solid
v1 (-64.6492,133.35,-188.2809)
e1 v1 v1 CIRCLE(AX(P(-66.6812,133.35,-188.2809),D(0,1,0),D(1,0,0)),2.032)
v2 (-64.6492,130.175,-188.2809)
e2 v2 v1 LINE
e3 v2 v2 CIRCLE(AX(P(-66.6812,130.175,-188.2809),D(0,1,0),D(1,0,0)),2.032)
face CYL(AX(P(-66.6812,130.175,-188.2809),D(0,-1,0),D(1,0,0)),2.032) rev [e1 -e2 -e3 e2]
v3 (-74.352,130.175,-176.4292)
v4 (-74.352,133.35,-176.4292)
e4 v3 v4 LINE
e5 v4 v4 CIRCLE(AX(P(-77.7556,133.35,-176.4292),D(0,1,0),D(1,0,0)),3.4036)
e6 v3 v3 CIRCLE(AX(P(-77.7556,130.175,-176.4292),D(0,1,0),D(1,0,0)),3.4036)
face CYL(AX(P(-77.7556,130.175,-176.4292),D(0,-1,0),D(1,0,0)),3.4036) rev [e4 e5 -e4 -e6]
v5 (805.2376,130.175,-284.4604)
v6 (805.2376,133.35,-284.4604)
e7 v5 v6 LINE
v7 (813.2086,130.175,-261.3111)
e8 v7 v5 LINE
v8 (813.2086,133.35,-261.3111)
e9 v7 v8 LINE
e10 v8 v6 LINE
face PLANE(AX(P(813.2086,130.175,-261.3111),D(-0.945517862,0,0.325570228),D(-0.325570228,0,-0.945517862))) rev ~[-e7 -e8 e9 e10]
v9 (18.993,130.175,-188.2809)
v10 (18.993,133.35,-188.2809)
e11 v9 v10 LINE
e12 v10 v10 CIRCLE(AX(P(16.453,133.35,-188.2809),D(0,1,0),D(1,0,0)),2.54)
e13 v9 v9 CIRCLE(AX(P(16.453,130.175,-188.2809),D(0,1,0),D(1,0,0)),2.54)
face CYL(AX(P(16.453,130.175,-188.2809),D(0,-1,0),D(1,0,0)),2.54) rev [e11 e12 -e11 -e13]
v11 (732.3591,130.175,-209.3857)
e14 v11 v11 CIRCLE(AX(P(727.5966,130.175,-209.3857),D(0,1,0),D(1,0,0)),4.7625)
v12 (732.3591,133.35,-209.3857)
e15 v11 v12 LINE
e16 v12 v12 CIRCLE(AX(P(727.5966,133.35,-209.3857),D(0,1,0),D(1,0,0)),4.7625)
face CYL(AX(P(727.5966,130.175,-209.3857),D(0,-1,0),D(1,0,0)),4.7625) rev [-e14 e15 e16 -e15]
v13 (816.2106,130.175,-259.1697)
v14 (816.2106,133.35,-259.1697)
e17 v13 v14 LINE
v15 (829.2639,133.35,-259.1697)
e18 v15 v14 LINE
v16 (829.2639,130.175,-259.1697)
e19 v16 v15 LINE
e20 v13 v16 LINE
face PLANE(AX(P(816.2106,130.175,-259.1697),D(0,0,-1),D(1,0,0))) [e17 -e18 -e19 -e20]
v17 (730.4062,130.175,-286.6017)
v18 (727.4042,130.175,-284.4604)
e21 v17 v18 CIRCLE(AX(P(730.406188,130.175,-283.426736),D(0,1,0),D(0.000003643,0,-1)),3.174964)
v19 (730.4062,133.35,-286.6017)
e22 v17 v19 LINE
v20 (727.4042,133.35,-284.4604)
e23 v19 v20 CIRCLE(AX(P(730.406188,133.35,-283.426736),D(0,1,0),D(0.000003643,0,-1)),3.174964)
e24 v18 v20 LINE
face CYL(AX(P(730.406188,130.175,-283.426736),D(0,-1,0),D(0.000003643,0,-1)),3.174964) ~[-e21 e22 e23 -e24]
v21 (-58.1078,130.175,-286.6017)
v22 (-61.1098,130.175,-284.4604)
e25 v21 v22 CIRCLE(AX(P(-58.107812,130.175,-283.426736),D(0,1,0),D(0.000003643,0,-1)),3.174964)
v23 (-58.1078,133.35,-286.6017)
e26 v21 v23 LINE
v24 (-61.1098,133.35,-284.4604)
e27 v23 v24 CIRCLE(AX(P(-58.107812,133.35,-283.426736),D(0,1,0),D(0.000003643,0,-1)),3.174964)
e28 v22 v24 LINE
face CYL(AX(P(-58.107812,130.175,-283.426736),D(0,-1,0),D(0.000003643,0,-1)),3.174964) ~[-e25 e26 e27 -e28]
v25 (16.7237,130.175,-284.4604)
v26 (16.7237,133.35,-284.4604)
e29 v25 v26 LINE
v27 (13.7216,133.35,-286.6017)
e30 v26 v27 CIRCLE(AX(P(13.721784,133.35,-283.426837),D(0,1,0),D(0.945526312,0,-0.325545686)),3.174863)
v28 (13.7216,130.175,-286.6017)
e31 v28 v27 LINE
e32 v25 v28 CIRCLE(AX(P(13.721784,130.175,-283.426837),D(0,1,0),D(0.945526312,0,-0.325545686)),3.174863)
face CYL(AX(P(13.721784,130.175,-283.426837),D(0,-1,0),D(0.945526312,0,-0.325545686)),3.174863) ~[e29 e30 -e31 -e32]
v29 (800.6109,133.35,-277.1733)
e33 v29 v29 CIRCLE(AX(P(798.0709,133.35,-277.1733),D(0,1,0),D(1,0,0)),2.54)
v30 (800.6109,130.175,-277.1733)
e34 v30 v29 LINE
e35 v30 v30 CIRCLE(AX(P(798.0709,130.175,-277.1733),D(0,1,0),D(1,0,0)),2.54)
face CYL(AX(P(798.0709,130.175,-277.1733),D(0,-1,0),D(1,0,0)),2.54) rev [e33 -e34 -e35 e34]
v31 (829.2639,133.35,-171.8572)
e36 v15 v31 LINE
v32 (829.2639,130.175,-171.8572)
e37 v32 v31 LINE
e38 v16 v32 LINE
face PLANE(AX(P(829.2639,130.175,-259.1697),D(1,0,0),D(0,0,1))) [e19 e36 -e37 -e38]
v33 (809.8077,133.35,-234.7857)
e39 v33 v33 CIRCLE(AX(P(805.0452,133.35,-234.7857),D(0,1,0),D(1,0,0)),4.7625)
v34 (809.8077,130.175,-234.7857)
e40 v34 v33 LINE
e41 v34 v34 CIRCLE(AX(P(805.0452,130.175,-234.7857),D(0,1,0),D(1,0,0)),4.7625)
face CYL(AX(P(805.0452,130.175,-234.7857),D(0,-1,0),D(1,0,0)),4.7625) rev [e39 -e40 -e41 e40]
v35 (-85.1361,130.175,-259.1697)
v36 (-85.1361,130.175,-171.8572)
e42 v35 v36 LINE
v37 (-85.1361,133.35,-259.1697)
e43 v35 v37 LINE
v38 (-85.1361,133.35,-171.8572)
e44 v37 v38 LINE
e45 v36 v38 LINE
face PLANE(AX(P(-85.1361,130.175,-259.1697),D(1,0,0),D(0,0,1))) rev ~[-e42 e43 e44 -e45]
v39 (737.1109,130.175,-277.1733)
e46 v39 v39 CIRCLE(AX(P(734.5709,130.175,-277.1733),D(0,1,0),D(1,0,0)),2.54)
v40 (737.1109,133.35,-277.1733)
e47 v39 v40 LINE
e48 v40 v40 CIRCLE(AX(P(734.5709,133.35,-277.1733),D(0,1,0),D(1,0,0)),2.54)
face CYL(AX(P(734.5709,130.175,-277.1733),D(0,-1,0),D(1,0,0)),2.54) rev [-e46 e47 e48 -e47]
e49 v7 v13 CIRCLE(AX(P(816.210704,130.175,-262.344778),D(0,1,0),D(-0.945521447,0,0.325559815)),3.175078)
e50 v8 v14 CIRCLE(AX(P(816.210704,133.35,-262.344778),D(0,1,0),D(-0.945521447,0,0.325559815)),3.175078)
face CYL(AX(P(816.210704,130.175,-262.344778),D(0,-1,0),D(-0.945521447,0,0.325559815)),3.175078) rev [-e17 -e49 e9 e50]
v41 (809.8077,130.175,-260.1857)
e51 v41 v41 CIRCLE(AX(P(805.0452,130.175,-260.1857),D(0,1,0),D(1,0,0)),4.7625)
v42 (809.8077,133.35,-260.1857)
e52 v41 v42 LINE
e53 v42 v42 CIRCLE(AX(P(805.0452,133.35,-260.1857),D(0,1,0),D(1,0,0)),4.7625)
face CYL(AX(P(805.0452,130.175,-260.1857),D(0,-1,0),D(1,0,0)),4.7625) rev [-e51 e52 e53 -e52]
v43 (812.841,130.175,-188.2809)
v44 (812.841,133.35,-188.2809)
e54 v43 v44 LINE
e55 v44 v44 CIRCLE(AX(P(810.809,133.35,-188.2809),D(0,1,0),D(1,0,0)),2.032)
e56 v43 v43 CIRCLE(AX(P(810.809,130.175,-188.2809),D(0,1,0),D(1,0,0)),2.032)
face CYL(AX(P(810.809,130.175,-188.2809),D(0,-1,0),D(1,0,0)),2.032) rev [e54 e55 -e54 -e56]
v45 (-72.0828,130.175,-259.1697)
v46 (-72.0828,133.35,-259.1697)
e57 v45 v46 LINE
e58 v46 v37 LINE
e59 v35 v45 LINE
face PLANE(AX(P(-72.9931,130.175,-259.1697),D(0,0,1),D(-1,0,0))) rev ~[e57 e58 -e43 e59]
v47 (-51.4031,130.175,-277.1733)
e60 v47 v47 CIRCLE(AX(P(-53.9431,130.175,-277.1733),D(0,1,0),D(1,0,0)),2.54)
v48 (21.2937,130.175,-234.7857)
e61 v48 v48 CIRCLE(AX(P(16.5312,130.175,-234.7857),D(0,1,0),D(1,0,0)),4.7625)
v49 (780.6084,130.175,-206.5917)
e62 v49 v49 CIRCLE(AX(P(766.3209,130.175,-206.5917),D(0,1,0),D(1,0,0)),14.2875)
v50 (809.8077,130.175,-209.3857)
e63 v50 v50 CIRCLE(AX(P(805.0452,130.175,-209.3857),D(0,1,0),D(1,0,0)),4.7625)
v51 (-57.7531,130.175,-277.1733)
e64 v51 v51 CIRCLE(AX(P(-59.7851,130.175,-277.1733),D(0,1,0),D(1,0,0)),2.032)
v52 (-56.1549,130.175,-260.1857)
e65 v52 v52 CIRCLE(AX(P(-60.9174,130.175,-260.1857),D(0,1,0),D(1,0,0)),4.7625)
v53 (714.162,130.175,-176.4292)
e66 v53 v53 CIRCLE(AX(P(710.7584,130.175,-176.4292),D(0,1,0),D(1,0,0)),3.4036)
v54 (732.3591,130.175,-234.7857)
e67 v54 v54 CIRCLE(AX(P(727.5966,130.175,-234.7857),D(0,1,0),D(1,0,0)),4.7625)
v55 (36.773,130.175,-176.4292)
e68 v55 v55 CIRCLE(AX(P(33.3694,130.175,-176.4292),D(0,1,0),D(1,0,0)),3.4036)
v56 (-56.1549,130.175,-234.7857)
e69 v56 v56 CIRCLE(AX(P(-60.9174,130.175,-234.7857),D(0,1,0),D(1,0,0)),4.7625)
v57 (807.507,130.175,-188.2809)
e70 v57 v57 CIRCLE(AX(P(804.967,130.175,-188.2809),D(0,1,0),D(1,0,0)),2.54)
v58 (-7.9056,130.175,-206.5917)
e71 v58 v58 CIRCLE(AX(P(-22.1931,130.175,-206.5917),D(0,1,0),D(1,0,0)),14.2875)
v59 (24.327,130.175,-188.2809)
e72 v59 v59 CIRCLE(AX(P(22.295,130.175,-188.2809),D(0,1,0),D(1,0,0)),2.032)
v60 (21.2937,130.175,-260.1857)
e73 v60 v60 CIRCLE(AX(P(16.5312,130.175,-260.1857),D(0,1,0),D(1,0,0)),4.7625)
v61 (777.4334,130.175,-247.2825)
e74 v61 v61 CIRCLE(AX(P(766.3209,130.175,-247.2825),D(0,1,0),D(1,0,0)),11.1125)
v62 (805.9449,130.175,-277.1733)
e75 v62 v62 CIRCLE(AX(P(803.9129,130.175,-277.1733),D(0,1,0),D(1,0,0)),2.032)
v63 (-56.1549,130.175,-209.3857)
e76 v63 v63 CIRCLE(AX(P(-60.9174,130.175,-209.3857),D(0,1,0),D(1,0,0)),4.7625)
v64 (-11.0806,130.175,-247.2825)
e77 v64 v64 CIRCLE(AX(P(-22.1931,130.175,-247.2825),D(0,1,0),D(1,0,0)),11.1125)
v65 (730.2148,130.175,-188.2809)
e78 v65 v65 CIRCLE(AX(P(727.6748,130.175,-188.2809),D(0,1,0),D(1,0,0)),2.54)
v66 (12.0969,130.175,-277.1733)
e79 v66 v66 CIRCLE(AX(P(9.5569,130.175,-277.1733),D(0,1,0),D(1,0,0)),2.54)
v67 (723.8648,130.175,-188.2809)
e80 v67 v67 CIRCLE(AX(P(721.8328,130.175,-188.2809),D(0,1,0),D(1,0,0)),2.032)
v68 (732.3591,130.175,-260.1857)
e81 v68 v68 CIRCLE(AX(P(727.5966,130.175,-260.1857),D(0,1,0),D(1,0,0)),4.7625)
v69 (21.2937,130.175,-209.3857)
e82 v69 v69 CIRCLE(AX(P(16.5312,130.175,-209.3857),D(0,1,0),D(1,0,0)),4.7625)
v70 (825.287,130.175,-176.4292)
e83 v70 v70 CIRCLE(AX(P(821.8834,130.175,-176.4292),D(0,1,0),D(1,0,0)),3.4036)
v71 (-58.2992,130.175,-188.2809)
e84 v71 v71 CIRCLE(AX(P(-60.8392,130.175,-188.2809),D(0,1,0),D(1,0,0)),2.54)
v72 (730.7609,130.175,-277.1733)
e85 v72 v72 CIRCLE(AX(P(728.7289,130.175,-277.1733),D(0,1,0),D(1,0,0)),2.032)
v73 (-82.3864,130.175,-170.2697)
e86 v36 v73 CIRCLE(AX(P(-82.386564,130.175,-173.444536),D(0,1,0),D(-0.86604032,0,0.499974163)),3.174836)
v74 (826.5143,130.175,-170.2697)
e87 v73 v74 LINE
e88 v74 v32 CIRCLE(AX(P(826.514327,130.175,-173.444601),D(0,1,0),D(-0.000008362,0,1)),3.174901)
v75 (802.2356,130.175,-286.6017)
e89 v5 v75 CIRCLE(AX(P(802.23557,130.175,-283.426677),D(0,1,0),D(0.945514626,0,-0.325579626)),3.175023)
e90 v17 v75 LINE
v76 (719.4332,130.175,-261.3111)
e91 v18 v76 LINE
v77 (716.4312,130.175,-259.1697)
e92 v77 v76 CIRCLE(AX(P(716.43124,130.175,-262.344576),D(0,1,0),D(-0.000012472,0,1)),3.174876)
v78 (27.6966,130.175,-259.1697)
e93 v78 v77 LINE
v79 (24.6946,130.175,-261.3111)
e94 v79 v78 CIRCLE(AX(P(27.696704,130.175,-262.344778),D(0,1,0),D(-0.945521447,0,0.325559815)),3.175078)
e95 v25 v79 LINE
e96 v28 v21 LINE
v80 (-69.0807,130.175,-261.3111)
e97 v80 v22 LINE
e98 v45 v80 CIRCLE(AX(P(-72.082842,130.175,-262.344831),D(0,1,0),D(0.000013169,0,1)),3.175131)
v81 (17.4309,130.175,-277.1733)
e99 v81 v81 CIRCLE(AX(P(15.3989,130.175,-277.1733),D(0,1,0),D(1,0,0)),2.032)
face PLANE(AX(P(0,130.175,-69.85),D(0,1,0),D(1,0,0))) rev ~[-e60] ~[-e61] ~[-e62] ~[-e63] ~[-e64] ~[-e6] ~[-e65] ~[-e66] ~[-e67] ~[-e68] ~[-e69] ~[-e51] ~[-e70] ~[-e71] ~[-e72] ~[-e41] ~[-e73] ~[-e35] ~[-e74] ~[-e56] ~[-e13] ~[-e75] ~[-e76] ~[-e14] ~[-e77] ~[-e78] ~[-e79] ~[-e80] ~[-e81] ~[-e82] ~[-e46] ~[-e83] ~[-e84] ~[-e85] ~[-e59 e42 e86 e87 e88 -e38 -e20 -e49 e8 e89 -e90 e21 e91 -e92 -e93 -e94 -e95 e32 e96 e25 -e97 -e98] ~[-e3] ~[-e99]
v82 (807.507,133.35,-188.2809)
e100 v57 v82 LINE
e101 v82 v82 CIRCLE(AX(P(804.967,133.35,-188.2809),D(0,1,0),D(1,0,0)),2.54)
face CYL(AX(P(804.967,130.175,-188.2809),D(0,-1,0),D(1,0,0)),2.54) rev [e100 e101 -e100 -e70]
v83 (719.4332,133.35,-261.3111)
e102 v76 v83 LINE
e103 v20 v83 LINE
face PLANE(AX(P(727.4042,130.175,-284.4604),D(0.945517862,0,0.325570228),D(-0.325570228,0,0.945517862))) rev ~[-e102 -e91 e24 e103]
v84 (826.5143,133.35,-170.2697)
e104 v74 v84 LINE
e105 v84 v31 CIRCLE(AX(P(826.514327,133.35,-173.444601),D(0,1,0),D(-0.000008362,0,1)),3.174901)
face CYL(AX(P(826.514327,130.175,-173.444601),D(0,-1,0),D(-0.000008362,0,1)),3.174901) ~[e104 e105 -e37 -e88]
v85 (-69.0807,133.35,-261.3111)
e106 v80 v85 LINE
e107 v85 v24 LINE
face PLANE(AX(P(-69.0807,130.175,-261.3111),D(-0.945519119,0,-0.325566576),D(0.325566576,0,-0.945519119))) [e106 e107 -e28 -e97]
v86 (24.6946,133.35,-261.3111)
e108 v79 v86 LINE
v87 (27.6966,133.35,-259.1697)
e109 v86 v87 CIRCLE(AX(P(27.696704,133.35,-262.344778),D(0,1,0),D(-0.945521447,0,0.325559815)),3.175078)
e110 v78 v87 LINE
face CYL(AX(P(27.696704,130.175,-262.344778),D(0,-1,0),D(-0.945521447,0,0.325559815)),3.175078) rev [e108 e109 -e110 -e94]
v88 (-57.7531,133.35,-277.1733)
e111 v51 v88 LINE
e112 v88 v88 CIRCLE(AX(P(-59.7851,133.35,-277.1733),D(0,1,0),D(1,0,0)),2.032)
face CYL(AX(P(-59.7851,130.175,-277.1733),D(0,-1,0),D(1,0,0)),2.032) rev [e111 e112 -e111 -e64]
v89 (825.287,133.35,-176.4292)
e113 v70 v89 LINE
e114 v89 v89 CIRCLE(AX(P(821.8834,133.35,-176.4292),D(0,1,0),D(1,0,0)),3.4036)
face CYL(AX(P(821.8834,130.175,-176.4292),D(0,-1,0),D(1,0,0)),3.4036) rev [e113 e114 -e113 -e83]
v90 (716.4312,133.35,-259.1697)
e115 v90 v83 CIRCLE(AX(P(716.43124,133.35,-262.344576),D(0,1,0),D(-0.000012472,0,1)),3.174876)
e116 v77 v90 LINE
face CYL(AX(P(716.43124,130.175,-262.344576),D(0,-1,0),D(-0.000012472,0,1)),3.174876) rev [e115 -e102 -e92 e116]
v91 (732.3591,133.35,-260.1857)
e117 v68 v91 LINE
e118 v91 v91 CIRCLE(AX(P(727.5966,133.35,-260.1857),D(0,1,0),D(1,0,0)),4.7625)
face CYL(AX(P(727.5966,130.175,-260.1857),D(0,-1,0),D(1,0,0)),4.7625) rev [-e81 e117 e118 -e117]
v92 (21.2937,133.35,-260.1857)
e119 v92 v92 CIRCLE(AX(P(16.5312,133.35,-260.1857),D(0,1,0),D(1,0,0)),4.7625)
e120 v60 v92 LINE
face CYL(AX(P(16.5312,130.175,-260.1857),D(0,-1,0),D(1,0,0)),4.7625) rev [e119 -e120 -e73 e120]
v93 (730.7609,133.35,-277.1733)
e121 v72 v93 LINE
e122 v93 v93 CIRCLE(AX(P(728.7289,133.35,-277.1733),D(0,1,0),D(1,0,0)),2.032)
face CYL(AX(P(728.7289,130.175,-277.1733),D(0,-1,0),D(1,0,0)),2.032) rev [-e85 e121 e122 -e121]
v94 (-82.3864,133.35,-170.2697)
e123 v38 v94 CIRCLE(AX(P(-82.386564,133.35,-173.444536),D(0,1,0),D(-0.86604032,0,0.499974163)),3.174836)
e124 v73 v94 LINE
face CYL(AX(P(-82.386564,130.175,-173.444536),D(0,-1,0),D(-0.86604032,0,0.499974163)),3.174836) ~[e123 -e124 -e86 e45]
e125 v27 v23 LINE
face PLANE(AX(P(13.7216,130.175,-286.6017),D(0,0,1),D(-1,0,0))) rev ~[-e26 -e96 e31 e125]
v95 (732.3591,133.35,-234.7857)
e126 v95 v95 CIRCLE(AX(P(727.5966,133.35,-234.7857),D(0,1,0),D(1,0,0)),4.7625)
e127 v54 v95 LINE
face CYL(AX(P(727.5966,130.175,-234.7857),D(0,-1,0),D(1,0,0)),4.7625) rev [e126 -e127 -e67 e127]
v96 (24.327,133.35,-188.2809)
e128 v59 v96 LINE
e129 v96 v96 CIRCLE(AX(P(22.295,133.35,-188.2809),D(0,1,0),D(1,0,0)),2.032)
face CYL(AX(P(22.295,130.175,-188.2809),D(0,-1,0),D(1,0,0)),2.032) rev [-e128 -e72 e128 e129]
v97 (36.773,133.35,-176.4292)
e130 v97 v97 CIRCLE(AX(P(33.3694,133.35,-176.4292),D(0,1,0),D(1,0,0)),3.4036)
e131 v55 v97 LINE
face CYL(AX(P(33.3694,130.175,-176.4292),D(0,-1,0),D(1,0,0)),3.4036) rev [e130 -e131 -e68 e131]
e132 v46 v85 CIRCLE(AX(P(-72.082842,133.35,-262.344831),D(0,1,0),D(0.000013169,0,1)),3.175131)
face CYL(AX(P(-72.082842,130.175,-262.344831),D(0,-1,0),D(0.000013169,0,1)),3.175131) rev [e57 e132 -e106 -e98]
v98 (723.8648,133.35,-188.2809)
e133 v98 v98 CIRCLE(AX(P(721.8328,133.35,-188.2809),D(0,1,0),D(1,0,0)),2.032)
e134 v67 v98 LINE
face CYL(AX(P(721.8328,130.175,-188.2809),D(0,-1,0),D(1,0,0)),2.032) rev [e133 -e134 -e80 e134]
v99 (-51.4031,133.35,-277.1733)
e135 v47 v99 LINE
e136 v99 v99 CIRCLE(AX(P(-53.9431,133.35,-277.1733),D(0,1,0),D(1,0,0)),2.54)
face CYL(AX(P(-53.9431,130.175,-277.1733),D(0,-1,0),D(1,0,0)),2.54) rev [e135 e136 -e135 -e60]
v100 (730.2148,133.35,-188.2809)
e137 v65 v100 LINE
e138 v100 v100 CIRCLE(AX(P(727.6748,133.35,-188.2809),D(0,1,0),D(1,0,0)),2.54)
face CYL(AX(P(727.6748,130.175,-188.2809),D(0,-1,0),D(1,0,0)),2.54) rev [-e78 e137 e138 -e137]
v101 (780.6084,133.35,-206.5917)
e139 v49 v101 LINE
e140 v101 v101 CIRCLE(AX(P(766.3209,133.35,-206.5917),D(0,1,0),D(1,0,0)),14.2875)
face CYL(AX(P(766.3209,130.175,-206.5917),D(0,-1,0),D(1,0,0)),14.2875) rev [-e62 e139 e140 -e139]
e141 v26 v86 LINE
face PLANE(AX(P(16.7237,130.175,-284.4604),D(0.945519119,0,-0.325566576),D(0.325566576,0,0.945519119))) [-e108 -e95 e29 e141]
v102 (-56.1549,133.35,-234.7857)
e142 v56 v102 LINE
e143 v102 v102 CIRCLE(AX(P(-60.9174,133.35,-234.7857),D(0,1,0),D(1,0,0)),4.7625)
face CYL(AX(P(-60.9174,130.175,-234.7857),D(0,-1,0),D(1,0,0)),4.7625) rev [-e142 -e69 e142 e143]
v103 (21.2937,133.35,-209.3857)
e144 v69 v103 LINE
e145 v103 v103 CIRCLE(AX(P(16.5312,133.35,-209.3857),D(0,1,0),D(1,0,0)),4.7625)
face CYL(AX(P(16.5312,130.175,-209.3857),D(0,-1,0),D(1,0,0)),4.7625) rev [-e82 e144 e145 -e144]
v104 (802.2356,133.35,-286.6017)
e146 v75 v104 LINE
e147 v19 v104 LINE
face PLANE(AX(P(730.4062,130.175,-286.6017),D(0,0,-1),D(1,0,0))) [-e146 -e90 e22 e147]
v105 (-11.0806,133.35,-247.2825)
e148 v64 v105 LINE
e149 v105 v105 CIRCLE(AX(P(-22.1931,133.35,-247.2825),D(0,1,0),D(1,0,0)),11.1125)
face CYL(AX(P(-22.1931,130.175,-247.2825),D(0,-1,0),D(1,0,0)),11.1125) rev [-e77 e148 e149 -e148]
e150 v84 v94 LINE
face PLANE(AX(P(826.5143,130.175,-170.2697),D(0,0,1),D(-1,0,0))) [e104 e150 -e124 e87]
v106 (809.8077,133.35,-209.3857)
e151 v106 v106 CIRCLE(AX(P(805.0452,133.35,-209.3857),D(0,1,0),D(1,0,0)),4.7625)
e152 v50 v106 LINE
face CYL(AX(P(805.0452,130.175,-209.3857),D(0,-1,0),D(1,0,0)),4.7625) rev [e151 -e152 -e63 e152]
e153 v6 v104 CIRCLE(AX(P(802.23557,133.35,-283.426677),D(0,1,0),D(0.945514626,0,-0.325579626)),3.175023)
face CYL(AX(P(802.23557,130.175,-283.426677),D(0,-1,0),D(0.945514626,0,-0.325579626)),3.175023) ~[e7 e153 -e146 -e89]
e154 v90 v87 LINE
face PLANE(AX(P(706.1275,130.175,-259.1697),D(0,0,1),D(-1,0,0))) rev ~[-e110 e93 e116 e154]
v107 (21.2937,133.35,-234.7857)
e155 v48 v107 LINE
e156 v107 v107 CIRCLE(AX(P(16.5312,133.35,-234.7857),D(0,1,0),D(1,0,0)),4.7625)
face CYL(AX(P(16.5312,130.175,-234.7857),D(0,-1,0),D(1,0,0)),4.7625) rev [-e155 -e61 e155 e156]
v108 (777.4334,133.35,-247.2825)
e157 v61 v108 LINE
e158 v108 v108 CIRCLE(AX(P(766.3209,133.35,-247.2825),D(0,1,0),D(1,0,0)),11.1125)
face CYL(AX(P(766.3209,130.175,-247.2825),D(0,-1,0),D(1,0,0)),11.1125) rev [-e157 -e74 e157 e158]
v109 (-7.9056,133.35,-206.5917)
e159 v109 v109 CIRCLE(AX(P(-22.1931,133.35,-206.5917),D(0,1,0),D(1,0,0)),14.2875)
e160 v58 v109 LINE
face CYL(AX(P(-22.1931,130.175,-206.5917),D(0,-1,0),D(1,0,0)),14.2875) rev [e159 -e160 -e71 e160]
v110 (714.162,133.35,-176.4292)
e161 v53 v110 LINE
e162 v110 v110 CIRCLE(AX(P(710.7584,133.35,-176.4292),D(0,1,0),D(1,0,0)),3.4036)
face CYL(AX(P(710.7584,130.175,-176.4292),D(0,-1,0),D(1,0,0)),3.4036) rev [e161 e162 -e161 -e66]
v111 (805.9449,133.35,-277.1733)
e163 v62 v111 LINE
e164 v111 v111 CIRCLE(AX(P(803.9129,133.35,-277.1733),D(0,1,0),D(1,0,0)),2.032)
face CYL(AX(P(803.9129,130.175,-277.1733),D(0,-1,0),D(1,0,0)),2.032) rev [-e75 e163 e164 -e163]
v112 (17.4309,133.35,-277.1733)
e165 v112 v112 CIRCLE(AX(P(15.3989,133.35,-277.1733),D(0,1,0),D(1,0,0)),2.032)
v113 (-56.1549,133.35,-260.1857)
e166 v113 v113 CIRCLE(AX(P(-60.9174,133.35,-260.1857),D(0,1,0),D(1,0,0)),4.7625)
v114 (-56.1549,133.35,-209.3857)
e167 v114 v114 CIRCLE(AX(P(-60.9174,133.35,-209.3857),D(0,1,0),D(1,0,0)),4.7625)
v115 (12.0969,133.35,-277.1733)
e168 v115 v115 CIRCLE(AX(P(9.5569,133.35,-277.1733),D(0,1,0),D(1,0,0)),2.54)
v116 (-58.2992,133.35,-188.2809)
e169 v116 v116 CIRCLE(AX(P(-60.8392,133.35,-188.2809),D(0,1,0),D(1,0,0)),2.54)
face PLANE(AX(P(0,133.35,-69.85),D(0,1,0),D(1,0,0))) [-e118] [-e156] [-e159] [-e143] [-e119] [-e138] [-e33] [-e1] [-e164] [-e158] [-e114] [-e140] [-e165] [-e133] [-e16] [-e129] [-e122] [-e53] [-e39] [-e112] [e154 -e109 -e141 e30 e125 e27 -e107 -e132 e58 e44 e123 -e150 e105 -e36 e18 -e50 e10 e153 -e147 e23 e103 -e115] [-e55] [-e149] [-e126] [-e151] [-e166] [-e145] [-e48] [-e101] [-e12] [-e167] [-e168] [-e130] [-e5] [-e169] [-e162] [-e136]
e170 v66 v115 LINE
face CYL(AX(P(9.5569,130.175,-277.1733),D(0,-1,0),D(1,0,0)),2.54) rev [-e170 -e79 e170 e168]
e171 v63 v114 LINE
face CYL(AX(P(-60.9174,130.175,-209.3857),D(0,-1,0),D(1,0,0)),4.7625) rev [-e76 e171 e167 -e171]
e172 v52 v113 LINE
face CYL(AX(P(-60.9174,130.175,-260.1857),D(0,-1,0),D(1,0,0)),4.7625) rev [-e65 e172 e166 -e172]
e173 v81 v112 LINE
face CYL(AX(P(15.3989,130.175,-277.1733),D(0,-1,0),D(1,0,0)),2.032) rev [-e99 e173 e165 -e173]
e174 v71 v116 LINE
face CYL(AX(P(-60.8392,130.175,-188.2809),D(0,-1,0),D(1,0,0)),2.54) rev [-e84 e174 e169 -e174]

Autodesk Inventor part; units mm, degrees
ref_plane "YZ Plane" through (0, 0, 0) normal (1, 0, 0) x (0, 1, 0)
ref_plane "XZ Plane" through (0, 0, 0) normal (0, 1, 0) x (-1, 0, 0)
ref_plane "Work Plane2" through (0, 130.175, -69.85) normal (0, 1, 0) x (1, 0, 0)
sketch "Sketch3" plane through (0, 130.175, -69.85) normal (0, 1, 0) x (1, 0, 0)
  line L0 (466.5934, -88.9) -> (346.2066, -88.9) projected
  arc A0 (343.457, -87.3125) -> (346.2066, -88.9) centre (346.2066, -85.725) ccw projected
  line L1 (334.2915, -71.4375) -> (343.457, -87.3125) projected
  line L2 (453.2877, 2.1413) -> (445.3167, 25.2907) projected
  arc A1 (445.3167, 25.2907) -> (442.3147, 27.432) centre (442.3147, 24.257) ccw projected
  line L3 (370.4853, 27.432) -> (442.3147, 27.432) projected
  arc A2 (370.4853, 27.432) -> (367.4833, 25.2907) centre (370.4853, 24.257) ccw projected
  line L4 (367.4833, 25.2907) -> (359.5123, 2.1413) projected
  arc A3 (356.5103, 0) -> (359.5123, 2.1413) centre (356.5103, 3.175) ccw projected
  line L5 (355.6, 0) -> (356.5103, 0) projected
  line L6 (355.6, 0) -> (0, 0) projected
  line L7 (0, 0) -> (0, -69.85) projected
  line L8 (0, -69.85) -> (330.2, -69.85) projected
  line L9 (330.2, -69.85) -> (331.5419, -69.85) projected
  arc A4 (334.2915, -71.4375) -> (331.5419, -69.85) centre (331.5419, -73.025) ccw projected
  line L10 (334.2915, -71.4375) -> (343.457, -87.3125) projected
  arc A5 (343.457, -87.3125) -> (346.2066, -88.9) centre (346.2066, -85.725) ccw projected
  line L11 (466.5934, -88.9) -> (346.2066, -88.9) projected
  arc A6 (466.5934, -88.9) -> (469.343, -87.3125) centre (466.5934, -85.725) ccw projected
  line L12 (469.343, -87.3125) -> (478.5085, -71.4375) projected
  arc A7 (481.2581, -69.85) -> (478.5085, -71.4375) centre (481.2581, -73.025) ccw projected
  line L13 (481.2581, -69.85) -> (482.6, -69.85) projected
  line L14 (482.6, -69.85) -> (812.8, -69.85) projected
  line L15 (812.8, -69.85) -> (812.8, 0) projected
  line L16 (812.8, 0) -> (457.2, 0) projected
  line L17 (456.2897, 0) -> (457.2, 0) projected
  arc A8 (453.2877, 2.1413) -> (456.2897, 0) centre (456.2897, 3.175) ccw projected
  circle A9 centre (619.3642, -13.4813) radius 2.667 projected
  circle A10 centre (193.4358, -13.4813) radius 2.667 projected
  circle A11 centre (193.4358, -60.1787) radius 2.667 projected
  arc A12 (666.4551, -57.5409) -> (666.4551, -62.8165) centre (666.0616, -60.1787) ccw projected
  arc A13 (666.4551, -62.8165) -> (666.4551, -57.5409) centre (666.8486, -60.1787) ccw projected
  arc A14 (146.3449, -16.1191) -> (146.3449, -10.8435) centre (146.7384, -13.4813) ccw projected
  arc A15 (146.3449, -10.8435) -> (146.3449, -16.1191) centre (145.9514, -13.4813) ccw projected
  arc A16 (146.3449, -62.8165) -> (146.3449, -57.5409) centre (146.7384, -60.1787) ccw projected
  arc A17 (146.3449, -57.5409) -> (146.3449, -62.8165) centre (145.9514, -60.1787) ccw projected
  arc A18 (666.4551, -10.8435) -> (666.4551, -16.1191) centre (666.0616, -13.4813) ccw projected
  arc A19 (666.4551, -16.1191) -> (666.4551, -10.8435) centre (666.8486, -13.4813) ccw projected
  circle A20 centre (170.0871, -36.83) radius 9.525 projected
  circle A21 centre (619.3642, -60.1787) radius 2.667 projected
  circle A22 centre (642.7129, -36.83) radius 9.525 projected
  circle A23 centre (122.6027, -36.83) radius 9.525 projected
  circle A24 centre (99.254, -60.1787) radius 2.667 projected
  circle A25 centre (99.254, -13.4813) radius 2.667 projected
  circle A26 centre (713.546, -13.4813) radius 2.667 projected
  circle A27 centre (713.546, -60.1787) radius 2.667 projected
  circle A28 centre (690.1973, -36.83) radius 9.525 projected
  circle A29 centre (461.9625, -82.7405) radius 3.4036 projected
  circle A30 centre (350.8375, -82.7405) radius 3.4036 projected
  circle A31 centre (711.2, -3.175) radius 1.27 projected
  circle A32 centre (711.2, -66.675) radius 1.27 projected
  circle A33 centre (762, -66.675) radius 1.27 projected
  circle A34 centre (762, -3.175) radius 1.27 projected
  circle A35 centre (50.8, -66.675) radius 1.27 projected
  circle A36 centre (50.8, -3.175) radius 1.27 projected
  circle A37 centre (101.6, -3.175) radius 1.27 projected
  circle A38 centre (101.6, -66.675) radius 1.27 projected
  circle A39 centre (806.45, -30.353) radius 3.3528 projected
  circle A40 centre (6.35, -30.353) radius 3.3528 projected
  circle A41 centre (787.4, -8.128) radius 3.3528 projected
  circle A42 centre (685.8, -8.128) radius 3.3528 projected
  circle A43 centre (584.2, -8.128) radius 3.3528 projected
  circle A44 centre (533.4, -8.128) radius 3.3528 projected
  circle A45 centre (482.6, -8.128) radius 3.3528 projected
  circle A46 centre (25.4, -8.128) radius 3.3528 projected
  circle A47 centre (127, -8.128) radius 3.3528 projected
  circle A48 centre (228.6, -8.128) radius 3.3528 projected
  circle A49 centre (279.4, -8.128) radius 3.3528 projected
  circle A50 centre (330.2, -8.128) radius 3.3528 projected
  circle A51 centre (450.8881, -70.8889) radius 2.032 projected
  circle A52 centre (361.9119, -70.8889) radius 2.032 projected
  circle A53 centre (367.7539, -70.8889) radius 2.54 projected
  circle A54 centre (445.0461, -70.8889) radius 2.54 projected
  circle A55 centre (368.808, 18.0035) radius 2.032 projected
  circle A56 centre (443.992, 18.0035) radius 2.032 projected
  circle A57 centre (374.65, 18.0035) radius 2.54 projected
  circle A58 centre (438.15, 18.0035) radius 2.54 projected
  circle A59 centre (367.6757, 1.016) radius 4.7625 projected
  circle A60 centre (367.6757, -49.784) radius 4.7625 projected
  circle A61 centre (445.1243, -49.784) radius 4.7625 projected
  circle A62 centre (445.1243, 1.016) radius 4.7625 projected
  circle A63 centre (367.6757, -24.384) radius 4.7625 projected
  circle A64 centre (445.1243, -24.384) radius 4.7625 projected
  circle A65 centre (406.4, -11.8872) radius 11.1125 projected
  circle A66 centre (641.35, -55.118) radius 3.3528 projected
  circle A67 centre (546.1, -55.118) radius 3.3528 projected
  circle A68 centre (266.7, -55.118) radius 3.3528 projected
  circle A69 centre (171.45, -55.118) radius 3.3528 projected
  circle A70 centre (513.9255, -52.3027) radius 3.3528 projected
  circle A71 centre (298.8745, -52.3027) radius 3.3528 projected
  circle A72 centre (628.9477, -50.8) radius 4.826 projected
  circle A73 centre (601.4385, -50.8) radius 4.826 projected
  circle A74 centre (568.9249, -50.8) radius 4.826 projected
  circle A75 centre (243.8751, -50.8) radius 4.826 projected
  circle A76 centre (211.3615, -50.8) radius 4.826 projected
  circle A77 centre (183.8523, -50.8) radius 4.826 projected
  circle A78 centre (678.9442, -49.022) radius 4.826 projected
  circle A79 centre (701.4504, -49.022) radius 4.826 projected
  circle A80 centre (726.4609, -49.022) radius 4.826 projected
  circle A81 centre (133.8558, -49.022) radius 4.826 projected
  circle A82 centre (111.3496, -49.022) radius 4.826 projected
  circle A83 centre (86.3391, -49.022) radius 4.826 projected
  circle A84 centre (406.4, -52.578) radius 14.2875 projected
  line L18 (826.5143, 100.4197) -> (706.1275, 100.4197)
  line L19 (813.2086, 191.4611) -> (805.2376, 214.6104)
  arc A85 (805.2376, 214.6104) -> (802.2356, 216.7517) centre (802.2356, 213.5767) ccw
  line L20 (730.4062, 216.7517) -> (802.2356, 216.7517)
  arc A86 (730.4062, 216.7517) -> (727.4042, 214.6104) centre (730.4062, 213.5767) ccw
  line L21 (727.4042, 214.6104) -> (719.4332, 191.4611)
  arc A87 (716.4312, 189.3197) -> (719.4332, 191.4611) centre (716.4312, 192.4947) ccw
  line L22 (715.5209, 189.3197) -> (716.4312, 189.3197)
  line L23 (826.5143, 100.4197) -> (706.1275, 100.4197)
  arc A88 (826.5143, 100.4197) -> (829.2639, 102.0072) centre (826.5143, 103.5947) ccw
  line L24 (816.2106, 189.3197) -> (817.1209, 189.3197)
  arc A89 (813.2086, 191.4611) -> (816.2106, 189.3197) centre (816.2106, 192.4947) ccw
  circle A90 centre (821.8834, 106.5792) radius 3.4036
  circle A91 centre (710.7584, 106.5792) radius 3.4036
  circle A92 centre (810.809, 118.4309) radius 2.032
  circle A93 centre (721.8328, 118.4309) radius 2.032
  circle A94 centre (727.6748, 118.4309) radius 2.54
  circle A95 centre (804.967, 118.4309) radius 2.54
  circle A96 centre (728.7289, 207.3233) radius 2.032
  circle A97 centre (803.9129, 207.3233) radius 2.032
  circle A98 centre (734.5709, 207.3233) radius 2.54
  circle A99 centre (798.0709, 207.3233) radius 2.54
  circle A100 centre (727.5966, 190.3357) radius 4.7625
  circle A101 centre (727.5966, 139.5357) radius 4.7625
  circle A102 centre (805.0452, 139.5357) radius 4.7625
  circle A103 centre (805.0452, 190.3357) radius 4.7625
  circle A104 centre (727.5966, 164.9357) radius 4.7625
  circle A105 centre (805.0452, 164.9357) radius 4.7625
  circle A106 centre (766.3209, 177.4325) radius 11.1125
  circle A107 centre (766.3209, 136.7417) radius 14.2875
  line L25 (817.1209, 189.3197) -> (829.2639, 189.3197)
  line L26 (829.2639, 189.3197) -> (829.2639, 102.0072)
  line L27 (715.5209, 189.3197) -> (706.1275, 189.3197)
  line L28 (706.1275, 100.4197) -> (372.0639, 100.4197)
  line L29 (706.1275, 189.3197) -> (372.0639, 189.3197)
  line L30 (372.0639, 189.3197) -> (372.0639, 100.4197)
  circle A108 centre (-60.9174, 139.5357) radius 4.7625
  circle A109 centre (-60.8392, 118.4309) radius 2.54
  circle A110 centre (-66.6812, 118.4309) radius 2.032
  circle A111 centre (-77.7556, 106.5792) radius 3.4036
  arc A112 (-85.1361, 102.0072) -> (-82.3864, 100.4197) centre (-82.3864, 103.5947) ccw
  circle A113 centre (-60.9174, 164.9357) radius 4.7625
  line L31 (-72.0828, 189.3197) -> (-72.9931, 189.3197)
  arc A114 (-72.0828, 189.3197) -> (-69.0807, 191.4611) centre (-72.0828, 192.4947) ccw
  circle A115 centre (-60.9174, 190.3357) radius 4.7625
  circle A116 centre (-59.7851, 207.3233) radius 2.032
  circle A117 centre (-53.9431, 207.3233) radius 2.54
  arc A118 (16.7237, 214.6104) -> (13.7216, 216.7517) centre (13.7216, 213.5767) ccw
  line L32 (16.7237, 214.6104) -> (24.6946, 191.4611)
  arc A119 (24.6946, 191.4611) -> (27.6966, 189.3197) centre (27.6966, 192.4947) ccw
  line L33 (28.6069, 189.3197) -> (27.6966, 189.3197)
  circle A120 centre (16.5312, 190.3357) radius 4.7625
  circle A121 centre (9.5569, 207.3233) radius 2.54
  circle A122 centre (15.3989, 207.3233) radius 2.032
  line L34 (-82.3864, 100.4197) -> (38.0003, 100.4197)
  circle A123 centre (33.3694, 106.5792) radius 3.4036
  circle A124 centre (22.295, 118.4309) radius 2.032
  circle A125 centre (16.453, 118.4309) radius 2.54
  circle A126 centre (16.5312, 139.5357) radius 4.7625
  circle A127 centre (16.5312, 164.9357) radius 4.7625
  circle A128 centre (-22.1931, 136.7417) radius 14.2875
  circle A129 centre (-22.1931, 177.4325) radius 11.1125
  line L35 (13.7216, 216.7517) -> (-58.1078, 216.7517)
  arc A130 (-58.1078, 216.7517) -> (-61.1098, 214.6104) centre (-58.1078, 213.5767) ccw
  line L36 (-69.0807, 191.4611) -> (-61.1098, 214.6104)
  line L37 (-82.3864, 100.4197) -> (38.0003, 100.4197)
  line L38 (-72.9931, 189.3197) -> (-85.1361, 189.3197)
  line L39 (-85.1361, 189.3197) -> (-85.1361, 102.0072)
  line L40 (28.6069, 189.3197) -> (38.0003, 189.3197)
  line L41 (38.0003, 100.4197) -> (372.0639, 100.4197)
  line L42 (38.0003, 189.3197) -> (372.0639, 189.3197)
  dimension "d7" = 123.1364
  dimension "d8" = 457.2
extrude "Extrusion3" add sketch "Sketch3" along normal blind 3.175 contours L18 L28 L30 L29 L27 L22 A87 L21 A86 L20 A85 L19 A89 L24 L25 L26 A88 | L41 L34 A112 L39 L38 L31 A114 L36 A130 L35 A118 L32 A119 L33 L40 L42 L30
properties part number "am-2952 AM14U2 Inside Sheet Mec Mod"
